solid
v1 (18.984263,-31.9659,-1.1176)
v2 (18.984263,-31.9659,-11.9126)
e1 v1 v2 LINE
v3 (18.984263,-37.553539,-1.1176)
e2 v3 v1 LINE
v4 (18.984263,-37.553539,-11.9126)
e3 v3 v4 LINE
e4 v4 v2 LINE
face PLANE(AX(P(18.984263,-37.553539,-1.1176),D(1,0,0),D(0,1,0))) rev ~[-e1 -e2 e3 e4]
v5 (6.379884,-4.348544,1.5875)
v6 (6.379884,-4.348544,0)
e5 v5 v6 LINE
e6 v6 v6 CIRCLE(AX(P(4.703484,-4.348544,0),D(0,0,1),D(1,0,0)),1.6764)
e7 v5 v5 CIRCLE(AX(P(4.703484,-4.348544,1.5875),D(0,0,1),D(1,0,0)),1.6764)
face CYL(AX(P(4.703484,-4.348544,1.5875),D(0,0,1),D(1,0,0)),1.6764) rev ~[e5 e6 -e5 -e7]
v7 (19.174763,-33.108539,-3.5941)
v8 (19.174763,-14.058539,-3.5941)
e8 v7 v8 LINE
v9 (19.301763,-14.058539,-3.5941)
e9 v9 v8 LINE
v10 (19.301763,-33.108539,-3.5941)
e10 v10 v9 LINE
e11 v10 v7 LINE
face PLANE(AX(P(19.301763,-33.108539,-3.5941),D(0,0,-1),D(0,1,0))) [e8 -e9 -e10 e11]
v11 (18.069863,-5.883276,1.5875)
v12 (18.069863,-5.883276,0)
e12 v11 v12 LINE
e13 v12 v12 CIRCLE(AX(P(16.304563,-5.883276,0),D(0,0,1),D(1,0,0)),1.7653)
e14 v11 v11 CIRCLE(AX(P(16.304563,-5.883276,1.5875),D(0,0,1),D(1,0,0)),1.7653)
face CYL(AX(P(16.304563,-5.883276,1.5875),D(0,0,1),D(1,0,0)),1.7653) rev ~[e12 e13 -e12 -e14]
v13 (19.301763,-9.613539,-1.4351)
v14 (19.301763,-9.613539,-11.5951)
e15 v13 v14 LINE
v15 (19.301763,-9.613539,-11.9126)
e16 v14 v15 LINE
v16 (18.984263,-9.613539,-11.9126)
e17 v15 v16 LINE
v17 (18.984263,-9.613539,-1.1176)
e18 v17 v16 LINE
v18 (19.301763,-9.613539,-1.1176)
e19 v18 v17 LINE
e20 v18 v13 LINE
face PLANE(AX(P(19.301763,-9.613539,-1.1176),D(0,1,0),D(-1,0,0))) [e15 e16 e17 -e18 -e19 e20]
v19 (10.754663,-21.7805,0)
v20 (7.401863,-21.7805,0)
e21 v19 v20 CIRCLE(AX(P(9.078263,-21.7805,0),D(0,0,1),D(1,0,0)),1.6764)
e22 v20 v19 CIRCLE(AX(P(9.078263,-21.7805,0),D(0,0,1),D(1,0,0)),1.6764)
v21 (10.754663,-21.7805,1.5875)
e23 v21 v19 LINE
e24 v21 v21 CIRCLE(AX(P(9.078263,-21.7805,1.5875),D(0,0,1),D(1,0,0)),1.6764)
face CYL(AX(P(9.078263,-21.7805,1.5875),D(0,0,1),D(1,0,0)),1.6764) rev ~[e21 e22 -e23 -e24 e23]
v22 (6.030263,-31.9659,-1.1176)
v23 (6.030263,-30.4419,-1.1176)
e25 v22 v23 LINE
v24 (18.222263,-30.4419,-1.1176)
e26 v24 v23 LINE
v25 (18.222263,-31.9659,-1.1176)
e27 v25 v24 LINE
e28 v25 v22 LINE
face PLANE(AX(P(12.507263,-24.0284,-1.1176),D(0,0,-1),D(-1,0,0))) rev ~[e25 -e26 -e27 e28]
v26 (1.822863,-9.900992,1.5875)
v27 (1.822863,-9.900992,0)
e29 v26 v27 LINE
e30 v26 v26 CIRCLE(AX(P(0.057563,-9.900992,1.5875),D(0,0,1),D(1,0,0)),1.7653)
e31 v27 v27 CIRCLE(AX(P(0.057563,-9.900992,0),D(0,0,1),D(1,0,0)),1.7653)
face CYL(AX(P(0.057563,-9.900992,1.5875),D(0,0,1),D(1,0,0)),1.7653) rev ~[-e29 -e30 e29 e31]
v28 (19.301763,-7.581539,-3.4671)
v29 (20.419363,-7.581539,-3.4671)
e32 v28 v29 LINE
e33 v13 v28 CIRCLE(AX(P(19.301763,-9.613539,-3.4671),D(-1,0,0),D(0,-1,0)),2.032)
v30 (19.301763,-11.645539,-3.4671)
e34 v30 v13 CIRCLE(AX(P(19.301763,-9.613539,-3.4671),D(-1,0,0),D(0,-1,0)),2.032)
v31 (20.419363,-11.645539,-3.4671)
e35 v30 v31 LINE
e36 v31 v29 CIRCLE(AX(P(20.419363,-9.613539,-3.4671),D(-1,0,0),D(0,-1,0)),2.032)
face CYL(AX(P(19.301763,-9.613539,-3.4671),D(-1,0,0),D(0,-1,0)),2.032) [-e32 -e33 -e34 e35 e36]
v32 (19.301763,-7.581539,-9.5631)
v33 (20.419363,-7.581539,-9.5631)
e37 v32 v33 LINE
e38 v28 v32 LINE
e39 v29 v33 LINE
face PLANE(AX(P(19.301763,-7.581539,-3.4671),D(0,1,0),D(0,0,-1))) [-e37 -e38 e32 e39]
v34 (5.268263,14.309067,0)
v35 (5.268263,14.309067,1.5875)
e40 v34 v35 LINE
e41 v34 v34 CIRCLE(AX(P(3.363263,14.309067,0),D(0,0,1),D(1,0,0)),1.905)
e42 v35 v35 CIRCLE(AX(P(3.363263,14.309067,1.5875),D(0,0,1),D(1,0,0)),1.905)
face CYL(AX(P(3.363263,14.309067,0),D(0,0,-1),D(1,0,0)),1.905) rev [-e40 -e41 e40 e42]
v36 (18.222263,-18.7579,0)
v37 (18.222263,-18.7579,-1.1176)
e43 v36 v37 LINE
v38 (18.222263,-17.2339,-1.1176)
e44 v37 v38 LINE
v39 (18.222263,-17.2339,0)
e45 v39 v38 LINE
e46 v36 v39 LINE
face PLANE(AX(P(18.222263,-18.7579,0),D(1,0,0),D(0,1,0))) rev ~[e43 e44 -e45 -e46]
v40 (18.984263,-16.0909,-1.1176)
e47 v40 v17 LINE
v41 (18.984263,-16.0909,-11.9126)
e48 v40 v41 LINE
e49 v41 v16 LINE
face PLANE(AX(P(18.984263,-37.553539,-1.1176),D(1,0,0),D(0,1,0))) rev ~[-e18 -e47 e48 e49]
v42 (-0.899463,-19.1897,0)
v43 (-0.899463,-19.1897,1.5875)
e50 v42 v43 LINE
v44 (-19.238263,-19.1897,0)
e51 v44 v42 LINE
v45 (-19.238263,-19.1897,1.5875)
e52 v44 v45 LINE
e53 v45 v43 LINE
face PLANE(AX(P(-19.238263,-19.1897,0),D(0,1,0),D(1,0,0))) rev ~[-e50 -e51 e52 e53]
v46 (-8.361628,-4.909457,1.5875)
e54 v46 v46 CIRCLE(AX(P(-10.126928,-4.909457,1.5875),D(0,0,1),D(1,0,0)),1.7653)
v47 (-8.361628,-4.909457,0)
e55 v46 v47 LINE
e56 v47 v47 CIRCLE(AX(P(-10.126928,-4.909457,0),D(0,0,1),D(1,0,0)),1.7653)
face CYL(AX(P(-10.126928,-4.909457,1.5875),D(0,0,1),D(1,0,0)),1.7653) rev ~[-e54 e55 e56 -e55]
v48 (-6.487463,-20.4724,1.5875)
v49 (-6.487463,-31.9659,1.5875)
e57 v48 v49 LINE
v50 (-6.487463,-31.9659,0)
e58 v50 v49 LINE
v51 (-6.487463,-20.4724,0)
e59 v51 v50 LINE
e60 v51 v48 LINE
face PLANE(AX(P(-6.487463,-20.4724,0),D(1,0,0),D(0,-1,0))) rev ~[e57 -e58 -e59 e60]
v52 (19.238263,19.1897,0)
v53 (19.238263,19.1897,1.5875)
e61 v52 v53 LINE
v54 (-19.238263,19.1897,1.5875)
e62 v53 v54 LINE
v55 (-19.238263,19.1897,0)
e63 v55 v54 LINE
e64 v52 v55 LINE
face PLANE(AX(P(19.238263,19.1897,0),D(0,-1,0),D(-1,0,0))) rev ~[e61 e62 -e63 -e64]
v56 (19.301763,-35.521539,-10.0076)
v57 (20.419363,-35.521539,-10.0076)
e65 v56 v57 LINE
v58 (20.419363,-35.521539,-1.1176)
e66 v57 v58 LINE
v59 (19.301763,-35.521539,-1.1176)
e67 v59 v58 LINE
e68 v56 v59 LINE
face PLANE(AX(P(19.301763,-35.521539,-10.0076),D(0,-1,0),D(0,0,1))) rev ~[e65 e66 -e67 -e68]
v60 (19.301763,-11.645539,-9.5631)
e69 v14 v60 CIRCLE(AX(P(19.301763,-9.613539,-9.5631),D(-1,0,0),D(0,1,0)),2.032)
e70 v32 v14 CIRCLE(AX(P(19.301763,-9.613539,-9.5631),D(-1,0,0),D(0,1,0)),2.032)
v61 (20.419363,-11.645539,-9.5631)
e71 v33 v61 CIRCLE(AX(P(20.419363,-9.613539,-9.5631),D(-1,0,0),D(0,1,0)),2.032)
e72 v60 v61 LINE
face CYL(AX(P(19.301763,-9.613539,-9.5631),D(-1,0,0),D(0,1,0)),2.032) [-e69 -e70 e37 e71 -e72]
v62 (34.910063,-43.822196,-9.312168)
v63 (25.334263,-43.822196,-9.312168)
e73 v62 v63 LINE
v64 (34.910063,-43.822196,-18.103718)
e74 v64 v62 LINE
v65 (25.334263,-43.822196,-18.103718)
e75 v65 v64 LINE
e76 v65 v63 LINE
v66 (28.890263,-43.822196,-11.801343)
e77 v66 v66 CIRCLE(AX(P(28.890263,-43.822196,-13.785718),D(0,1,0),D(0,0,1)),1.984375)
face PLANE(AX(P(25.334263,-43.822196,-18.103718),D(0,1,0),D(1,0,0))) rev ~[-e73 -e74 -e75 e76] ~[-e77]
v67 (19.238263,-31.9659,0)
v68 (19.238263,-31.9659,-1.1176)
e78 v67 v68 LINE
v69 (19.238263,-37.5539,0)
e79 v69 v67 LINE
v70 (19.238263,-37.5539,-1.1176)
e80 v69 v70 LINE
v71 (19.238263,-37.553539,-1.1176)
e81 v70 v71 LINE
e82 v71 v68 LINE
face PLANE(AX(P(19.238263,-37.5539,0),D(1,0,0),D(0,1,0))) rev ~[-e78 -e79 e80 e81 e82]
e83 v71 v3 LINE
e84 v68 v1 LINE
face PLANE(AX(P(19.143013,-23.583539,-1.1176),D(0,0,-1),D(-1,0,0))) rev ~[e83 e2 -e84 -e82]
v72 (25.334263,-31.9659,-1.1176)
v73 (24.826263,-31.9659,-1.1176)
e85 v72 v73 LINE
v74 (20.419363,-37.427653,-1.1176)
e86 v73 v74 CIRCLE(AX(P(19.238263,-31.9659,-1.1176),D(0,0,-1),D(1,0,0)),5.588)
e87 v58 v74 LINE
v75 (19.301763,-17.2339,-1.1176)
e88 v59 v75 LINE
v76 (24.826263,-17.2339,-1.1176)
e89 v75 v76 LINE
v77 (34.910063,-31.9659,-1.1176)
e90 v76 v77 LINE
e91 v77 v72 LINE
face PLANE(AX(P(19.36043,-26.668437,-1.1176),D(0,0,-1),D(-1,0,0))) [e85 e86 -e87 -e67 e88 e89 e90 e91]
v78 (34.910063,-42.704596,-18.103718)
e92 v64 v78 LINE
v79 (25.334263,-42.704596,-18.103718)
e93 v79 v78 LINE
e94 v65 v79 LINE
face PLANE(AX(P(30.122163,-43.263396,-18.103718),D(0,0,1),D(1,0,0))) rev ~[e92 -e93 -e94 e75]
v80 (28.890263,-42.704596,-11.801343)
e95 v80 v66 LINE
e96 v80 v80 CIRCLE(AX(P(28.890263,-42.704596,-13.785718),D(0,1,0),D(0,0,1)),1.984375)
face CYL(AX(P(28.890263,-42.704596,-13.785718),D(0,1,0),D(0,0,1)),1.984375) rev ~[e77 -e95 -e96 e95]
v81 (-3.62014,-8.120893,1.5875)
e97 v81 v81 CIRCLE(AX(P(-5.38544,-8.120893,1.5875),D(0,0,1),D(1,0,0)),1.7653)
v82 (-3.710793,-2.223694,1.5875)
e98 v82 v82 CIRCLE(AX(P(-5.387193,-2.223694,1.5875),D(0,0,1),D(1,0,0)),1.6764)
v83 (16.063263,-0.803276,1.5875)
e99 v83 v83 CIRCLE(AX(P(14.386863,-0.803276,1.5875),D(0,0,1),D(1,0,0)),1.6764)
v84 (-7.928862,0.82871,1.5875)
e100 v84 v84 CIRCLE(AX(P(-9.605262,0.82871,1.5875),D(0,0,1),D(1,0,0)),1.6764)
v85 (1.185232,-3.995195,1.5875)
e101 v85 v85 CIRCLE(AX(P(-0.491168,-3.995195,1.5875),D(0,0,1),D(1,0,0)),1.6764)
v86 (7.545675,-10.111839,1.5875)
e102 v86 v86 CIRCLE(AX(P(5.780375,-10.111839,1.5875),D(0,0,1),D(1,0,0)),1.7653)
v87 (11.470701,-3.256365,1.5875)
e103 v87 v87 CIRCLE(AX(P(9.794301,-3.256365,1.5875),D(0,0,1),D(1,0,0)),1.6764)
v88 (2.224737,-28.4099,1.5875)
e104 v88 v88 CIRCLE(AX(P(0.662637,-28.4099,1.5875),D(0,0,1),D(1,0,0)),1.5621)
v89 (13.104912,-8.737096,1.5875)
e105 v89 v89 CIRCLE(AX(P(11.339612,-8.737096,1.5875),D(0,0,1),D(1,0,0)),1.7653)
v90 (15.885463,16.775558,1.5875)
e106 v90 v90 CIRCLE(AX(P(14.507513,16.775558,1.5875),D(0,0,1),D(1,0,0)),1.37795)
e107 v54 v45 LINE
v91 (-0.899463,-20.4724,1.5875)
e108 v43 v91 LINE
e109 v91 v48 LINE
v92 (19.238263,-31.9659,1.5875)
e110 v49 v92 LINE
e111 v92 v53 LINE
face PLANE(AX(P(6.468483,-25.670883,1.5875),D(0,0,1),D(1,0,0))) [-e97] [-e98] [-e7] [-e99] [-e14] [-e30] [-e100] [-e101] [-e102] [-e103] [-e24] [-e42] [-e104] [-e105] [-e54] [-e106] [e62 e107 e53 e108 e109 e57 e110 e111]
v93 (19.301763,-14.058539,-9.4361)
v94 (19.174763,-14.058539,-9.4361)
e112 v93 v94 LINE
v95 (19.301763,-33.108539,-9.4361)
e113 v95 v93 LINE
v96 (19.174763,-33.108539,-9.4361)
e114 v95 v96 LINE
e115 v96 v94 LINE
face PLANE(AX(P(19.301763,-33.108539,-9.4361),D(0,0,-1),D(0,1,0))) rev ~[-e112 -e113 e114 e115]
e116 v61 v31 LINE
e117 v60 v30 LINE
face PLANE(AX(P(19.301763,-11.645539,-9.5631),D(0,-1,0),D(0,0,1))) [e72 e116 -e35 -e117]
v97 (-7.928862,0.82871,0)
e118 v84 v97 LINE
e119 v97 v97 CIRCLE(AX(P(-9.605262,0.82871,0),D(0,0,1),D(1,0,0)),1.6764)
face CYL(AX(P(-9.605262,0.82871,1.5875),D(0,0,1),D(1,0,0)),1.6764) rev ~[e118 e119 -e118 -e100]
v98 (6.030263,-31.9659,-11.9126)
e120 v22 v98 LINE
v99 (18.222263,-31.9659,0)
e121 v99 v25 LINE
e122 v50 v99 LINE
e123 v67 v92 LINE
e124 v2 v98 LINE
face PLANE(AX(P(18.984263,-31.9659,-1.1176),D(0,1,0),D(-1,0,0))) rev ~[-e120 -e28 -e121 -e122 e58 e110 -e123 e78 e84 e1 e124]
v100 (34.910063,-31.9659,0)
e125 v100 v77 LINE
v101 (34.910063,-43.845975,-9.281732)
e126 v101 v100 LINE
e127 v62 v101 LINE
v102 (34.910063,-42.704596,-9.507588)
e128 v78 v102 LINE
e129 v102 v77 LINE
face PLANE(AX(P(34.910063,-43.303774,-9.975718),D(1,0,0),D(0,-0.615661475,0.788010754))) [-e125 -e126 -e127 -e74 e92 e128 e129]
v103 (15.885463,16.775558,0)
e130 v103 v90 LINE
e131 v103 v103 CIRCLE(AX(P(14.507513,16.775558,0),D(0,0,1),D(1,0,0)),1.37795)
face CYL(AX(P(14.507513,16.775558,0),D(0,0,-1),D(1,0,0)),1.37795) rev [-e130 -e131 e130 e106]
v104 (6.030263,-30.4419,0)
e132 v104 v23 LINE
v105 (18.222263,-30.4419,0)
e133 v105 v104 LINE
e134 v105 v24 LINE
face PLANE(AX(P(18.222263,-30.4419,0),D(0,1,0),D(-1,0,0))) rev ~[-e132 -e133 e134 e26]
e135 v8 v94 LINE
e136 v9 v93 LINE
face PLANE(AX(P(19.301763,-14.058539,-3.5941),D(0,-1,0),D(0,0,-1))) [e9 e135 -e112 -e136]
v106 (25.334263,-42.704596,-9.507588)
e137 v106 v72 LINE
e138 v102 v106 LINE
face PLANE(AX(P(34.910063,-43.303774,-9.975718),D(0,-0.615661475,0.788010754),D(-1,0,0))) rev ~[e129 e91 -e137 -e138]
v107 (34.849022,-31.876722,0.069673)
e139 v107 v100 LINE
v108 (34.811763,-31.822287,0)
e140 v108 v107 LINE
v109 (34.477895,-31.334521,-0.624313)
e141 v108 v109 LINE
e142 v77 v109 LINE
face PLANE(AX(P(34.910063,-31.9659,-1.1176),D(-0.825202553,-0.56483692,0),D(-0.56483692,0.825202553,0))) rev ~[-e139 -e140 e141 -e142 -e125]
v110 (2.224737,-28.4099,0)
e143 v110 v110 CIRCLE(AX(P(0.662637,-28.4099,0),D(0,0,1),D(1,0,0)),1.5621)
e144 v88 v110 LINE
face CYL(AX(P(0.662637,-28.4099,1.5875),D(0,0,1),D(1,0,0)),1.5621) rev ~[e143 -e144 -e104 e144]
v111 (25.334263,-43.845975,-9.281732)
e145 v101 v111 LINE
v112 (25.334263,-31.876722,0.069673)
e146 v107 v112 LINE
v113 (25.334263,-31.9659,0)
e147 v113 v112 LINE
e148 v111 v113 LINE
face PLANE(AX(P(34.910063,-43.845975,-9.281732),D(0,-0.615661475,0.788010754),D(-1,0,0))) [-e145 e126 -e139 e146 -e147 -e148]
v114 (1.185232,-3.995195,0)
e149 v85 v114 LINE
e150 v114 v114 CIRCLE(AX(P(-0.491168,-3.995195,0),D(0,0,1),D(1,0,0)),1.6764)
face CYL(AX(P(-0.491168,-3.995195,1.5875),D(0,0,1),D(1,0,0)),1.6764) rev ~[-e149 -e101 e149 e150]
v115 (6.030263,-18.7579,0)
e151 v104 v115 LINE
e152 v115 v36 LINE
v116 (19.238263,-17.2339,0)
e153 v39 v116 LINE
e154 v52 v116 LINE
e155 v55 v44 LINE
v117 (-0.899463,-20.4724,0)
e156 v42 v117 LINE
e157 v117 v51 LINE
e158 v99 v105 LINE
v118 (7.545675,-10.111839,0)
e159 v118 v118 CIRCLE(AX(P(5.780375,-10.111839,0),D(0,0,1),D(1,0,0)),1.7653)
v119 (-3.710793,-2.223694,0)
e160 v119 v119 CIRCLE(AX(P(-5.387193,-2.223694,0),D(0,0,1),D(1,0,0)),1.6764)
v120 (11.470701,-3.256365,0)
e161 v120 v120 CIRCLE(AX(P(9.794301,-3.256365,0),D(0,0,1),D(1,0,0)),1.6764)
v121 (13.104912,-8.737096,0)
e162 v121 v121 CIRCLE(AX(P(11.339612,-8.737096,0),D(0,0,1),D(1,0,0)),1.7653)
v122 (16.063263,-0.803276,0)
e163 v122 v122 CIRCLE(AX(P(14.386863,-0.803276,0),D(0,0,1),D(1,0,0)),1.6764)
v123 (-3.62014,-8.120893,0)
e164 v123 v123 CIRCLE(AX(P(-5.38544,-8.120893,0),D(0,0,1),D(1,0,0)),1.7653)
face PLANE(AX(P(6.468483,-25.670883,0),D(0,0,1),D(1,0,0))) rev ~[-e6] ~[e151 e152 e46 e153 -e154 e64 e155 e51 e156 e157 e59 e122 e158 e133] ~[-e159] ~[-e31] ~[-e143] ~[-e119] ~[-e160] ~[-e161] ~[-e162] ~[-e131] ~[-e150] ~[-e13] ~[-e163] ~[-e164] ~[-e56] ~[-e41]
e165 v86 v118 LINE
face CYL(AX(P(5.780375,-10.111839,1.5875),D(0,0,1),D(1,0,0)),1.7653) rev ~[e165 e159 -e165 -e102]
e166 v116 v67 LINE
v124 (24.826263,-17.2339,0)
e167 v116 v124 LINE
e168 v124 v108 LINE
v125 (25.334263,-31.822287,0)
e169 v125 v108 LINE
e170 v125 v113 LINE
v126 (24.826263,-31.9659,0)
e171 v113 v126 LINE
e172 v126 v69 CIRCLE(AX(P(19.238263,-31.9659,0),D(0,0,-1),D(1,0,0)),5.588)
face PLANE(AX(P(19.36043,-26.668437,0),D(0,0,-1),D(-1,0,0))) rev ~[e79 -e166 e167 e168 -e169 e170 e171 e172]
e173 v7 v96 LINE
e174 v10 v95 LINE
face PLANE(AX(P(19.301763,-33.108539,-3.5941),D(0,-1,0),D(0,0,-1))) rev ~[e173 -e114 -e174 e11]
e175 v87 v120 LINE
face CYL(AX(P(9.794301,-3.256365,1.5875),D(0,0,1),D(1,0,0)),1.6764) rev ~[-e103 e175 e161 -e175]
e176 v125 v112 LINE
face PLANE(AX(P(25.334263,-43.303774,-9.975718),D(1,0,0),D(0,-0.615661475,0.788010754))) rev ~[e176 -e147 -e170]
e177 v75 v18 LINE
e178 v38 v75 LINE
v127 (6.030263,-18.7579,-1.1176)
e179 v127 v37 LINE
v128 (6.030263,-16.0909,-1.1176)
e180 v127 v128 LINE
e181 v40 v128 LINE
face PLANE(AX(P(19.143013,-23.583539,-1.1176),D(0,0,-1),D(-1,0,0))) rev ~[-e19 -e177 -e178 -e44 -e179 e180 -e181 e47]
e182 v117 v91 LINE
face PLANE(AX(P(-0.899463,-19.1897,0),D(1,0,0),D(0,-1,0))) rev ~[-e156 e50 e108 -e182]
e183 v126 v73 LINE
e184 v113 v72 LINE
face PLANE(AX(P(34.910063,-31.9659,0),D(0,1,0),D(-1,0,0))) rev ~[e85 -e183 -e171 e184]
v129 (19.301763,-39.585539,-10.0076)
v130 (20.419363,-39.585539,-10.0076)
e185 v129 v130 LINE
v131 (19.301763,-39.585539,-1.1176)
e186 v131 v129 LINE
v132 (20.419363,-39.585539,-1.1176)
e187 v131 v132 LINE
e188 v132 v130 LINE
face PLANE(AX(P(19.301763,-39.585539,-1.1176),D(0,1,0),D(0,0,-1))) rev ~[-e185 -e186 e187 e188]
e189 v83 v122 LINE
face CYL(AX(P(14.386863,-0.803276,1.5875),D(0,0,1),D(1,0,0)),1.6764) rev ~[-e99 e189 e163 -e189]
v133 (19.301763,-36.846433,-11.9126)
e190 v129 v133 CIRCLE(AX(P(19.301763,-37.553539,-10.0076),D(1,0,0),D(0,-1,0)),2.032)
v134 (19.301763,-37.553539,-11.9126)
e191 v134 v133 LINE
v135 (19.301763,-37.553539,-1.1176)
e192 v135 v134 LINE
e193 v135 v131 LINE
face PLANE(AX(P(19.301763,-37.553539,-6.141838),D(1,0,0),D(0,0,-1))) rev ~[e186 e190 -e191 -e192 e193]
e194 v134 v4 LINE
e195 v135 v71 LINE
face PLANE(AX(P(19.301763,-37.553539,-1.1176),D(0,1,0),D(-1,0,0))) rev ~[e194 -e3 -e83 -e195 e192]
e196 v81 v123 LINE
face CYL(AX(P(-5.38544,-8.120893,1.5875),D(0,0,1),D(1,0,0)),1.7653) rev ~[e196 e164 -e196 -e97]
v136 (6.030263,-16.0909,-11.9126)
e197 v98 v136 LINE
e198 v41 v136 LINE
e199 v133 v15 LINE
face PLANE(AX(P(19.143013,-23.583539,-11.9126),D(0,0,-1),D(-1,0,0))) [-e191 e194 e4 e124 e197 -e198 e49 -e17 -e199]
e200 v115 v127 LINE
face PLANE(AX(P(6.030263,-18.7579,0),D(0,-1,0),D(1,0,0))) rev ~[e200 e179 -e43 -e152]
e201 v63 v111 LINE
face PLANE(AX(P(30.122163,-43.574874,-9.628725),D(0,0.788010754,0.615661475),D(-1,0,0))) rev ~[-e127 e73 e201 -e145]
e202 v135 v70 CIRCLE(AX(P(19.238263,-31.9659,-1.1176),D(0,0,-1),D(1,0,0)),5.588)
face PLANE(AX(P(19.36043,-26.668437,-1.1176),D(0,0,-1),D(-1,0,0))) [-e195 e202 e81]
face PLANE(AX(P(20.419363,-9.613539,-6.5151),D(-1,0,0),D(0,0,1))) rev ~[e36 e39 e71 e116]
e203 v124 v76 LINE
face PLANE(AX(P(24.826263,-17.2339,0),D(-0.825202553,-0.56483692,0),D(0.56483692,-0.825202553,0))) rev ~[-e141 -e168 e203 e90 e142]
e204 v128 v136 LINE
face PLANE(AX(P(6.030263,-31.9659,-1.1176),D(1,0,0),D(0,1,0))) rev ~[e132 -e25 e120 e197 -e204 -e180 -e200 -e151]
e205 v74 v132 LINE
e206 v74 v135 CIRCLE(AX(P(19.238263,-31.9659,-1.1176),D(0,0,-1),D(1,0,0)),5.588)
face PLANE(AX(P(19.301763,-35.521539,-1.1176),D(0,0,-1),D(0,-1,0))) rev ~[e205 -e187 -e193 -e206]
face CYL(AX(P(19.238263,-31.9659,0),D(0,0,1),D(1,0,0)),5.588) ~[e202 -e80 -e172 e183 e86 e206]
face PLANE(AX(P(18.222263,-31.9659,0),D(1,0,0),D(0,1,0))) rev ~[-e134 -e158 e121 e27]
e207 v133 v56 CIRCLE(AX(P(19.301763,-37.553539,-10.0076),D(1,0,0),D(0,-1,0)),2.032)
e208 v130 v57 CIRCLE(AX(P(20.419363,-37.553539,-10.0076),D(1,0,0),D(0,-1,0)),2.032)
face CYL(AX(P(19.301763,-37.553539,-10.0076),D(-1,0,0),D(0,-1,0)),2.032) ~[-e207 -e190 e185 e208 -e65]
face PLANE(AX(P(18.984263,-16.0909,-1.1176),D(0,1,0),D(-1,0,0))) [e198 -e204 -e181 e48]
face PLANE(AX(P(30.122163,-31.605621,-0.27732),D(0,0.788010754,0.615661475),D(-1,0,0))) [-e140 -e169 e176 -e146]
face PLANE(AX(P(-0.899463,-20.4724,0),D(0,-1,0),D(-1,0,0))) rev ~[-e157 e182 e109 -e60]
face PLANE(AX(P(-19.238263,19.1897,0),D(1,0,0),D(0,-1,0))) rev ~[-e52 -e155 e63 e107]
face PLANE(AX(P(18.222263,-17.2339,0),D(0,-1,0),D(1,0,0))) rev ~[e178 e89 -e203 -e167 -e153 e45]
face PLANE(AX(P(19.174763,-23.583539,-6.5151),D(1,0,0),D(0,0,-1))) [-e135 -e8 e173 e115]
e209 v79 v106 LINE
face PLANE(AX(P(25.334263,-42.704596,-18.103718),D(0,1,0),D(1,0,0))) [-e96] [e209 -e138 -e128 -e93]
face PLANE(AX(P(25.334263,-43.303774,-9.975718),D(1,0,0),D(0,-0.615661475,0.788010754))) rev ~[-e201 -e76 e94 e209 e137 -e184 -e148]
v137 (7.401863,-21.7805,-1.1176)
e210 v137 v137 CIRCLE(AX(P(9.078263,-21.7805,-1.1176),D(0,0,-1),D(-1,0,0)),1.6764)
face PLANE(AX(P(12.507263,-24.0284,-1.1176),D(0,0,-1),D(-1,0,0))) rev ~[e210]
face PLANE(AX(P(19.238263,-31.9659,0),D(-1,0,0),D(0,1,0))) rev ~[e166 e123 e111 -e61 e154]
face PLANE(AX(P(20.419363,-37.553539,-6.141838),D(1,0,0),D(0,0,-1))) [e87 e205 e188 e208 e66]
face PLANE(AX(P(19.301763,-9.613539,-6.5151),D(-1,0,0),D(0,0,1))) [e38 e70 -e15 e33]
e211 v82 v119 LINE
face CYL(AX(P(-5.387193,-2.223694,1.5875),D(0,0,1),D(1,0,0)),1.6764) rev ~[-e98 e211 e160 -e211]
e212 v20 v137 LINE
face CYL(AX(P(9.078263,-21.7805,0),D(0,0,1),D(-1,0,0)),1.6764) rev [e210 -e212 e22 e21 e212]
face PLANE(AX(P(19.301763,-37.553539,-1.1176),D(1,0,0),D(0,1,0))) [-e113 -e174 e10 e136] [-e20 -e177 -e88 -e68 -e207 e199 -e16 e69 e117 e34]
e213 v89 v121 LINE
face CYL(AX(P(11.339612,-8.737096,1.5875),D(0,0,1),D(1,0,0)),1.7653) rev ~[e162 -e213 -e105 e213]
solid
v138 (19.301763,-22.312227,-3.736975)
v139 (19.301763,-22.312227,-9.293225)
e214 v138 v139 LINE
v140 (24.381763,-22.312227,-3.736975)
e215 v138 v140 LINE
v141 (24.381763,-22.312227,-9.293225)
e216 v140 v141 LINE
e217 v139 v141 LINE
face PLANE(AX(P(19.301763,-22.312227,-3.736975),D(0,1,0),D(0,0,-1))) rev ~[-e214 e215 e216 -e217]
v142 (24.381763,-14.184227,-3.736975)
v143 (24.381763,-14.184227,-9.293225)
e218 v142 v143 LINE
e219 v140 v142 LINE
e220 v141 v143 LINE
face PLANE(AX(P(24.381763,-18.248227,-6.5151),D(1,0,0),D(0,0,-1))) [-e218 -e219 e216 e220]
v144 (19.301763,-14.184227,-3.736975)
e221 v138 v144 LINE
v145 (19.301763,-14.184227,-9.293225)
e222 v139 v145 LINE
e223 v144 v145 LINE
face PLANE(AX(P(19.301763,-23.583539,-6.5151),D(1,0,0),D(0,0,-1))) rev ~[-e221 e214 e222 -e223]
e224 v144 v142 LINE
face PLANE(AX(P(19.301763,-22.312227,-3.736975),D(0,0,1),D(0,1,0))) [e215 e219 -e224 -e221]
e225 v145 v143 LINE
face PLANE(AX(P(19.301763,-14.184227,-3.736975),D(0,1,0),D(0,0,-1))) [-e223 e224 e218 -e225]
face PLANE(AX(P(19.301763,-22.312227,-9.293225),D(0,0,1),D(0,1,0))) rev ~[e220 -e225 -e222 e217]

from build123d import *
from build123d.topology import SkipClean

# Parameters (mm, degrees)
SKETCH1_R                = 1.905
SKETCH1_R_2              = 1.37795
BOSS_EXTRUDE1_DEPTH      = 1.5875
CUT_EXTRUDE1_REACH       = 39.342
SKETCH2_R                = 1.7653
SKETCH2_R_2              = 1.6764
SKETCH2_R_3              = 1.5621
SKETCH3_R                = 1.6764
BOSS_EXTRUDE2_DEPTH      = 1.1176
BOSS_EXTRUDE3_DEPTH      = 0.4572
BOSS_EXTRUDE3_DEPTH_BACK = 14.732
SKETCH4_W                = 9.5758
SKETCH4_H                = 0.880680818
CUT_EXTRUDE4_DEPTH       = 57.741944576
BOSS_EXTRUDE5_DEPTH      = 0.7112
BOSS_EXTRUDE5_DEPTH_BACK = 8.128
SKETCH8_W                = 9.5758
SKETCH8_H                = 1.1176
SKETCH9_W                = 12.954
SKETCH9_H                = 15.875
BOSS_EXTRUDE10_DEPTH     = 10.795
SKETCH10_W               = 0.3175
SKETCH10_H               = 27.94
BOSS_EXTRUDE12_DEPTH     = 10.795
SKETCH11_W               = 5.55625
SKETCH11_H               = 8.128
BOSS_EXTRUDE13_DEPTH     = 5.08
SKETCH12_W               = 5.842
SKETCH12_H               = 19.05
CUT_EXTRUDE5_DEPTH       = 0.127
BOSS_EXTRUDE14_DEPTH     = 1.1176
SKETCH14_R               = 1.984375
CUT_EXTRUDE6_DEPTH       = 74.330491034


with BuildPart() as part:
    # Sketch1 → Boss-Extrude1 (new body)
    with BuildSketch(Plane.XY):
        Polygon((-19.238262945, 19.1897), (-19.238262945, -19.1897), (-0.899462945, -19.1897), (-0.899462945, -20.4724), (-6.487462945, -20.4724), (-6.487462945, -31.9659), (19.238262945, -31.9659), (19.238262945, 19.1897), align=None)
        with Locations((3.363262945, 14.309067498)):
            Circle(SKETCH1_R, mode=Mode.SUBTRACT)
        with Locations((14.507512945, 16.775557869)):
            Circle(SKETCH1_R_2, mode=Mode.SUBTRACT)
    extrude(amount=BOSS_EXTRUDE1_DEPTH)

    # Sketch2 → Cut-Extrude1 (cut, up to next)
    with BuildSketch(Plane.XY.offset(1.5875), mode=Mode.PRIVATE) as cut_extrude1_sk1:
        with Locations((16.304562945, -5.88327552)):
            Circle(SKETCH2_R)
    cut_extrude1_tool1 = extrude(cut_extrude1_sk1.sketch, amount=-CUT_EXTRUDE1_REACH, mode=Mode.PRIVATE) & part.part
    # Sketch2 → Cut-Extrude1 (cut, up to next)
    with BuildSketch(Plane.XY.offset(1.5875), mode=Mode.PRIVATE) as cut_extrude1_sk2:
        with Locations((14.386862945, -0.80327552)):
            Circle(SKETCH2_R_2)
    cut_extrude1_tool2 = extrude(cut_extrude1_sk2.sketch, amount=-CUT_EXTRUDE1_REACH, mode=Mode.PRIVATE) & part.part
    # Sketch2 → Cut-Extrude1 (cut, up to next)
    with BuildSketch(Plane.XY.offset(1.5875), mode=Mode.PRIVATE) as cut_extrude1_sk3:
        with Locations((9.794301106, -3.256364936)):
            Circle(SKETCH2_R_2)
    cut_extrude1_tool3 = extrude(cut_extrude1_sk3.sketch, amount=-CUT_EXTRUDE1_REACH, mode=Mode.PRIVATE) & part.part
    # Sketch2 → Cut-Extrude1 (cut, up to next)
    with BuildSketch(Plane.XY.offset(1.5875), mode=Mode.PRIVATE) as cut_extrude1_sk4:
        with Locations((4.703484245, -4.348544228)):
            Circle(SKETCH2_R_2)
    cut_extrude1_tool4 = extrude(cut_extrude1_sk4.sketch, amount=-CUT_EXTRUDE1_REACH, mode=Mode.PRIVATE) & part.part
    # Sketch2 → Cut-Extrude1 (cut, up to next)
    with BuildSketch(Plane.XY.offset(1.5875), mode=Mode.PRIVATE) as cut_extrude1_sk5:
        with Locations((-0.491168417, -3.995195047)):
            Circle(SKETCH2_R_2)
    cut_extrude1_tool5 = extrude(cut_extrude1_sk5.sketch, amount=-CUT_EXTRUDE1_REACH, mode=Mode.PRIVATE) & part.part
    # Sketch2 → Cut-Extrude1 (cut, up to next)
    with BuildSketch(Plane.XY.offset(1.5875), mode=Mode.PRIVATE) as cut_extrude1_sk6:
        with Locations((-5.387192811, -2.22369369)):
            Circle(SKETCH2_R_2)
    cut_extrude1_tool6 = extrude(cut_extrude1_sk6.sketch, amount=-CUT_EXTRUDE1_REACH, mode=Mode.PRIVATE) & part.part
    # Sketch2 → Cut-Extrude1 (cut, up to next)
    with BuildSketch(Plane.XY.offset(1.5875), mode=Mode.PRIVATE) as cut_extrude1_sk7:
        with Locations((-9.605261574, 0.828709926)):
            Circle(SKETCH2_R_2)
    cut_extrude1_tool7 = extrude(cut_extrude1_sk7.sketch, amount=-CUT_EXTRUDE1_REACH, mode=Mode.PRIVATE) & part.part
    # Sketch2 → Cut-Extrude1 (cut, up to next)
    with BuildSketch(Plane.XY.offset(1.5875), mode=Mode.PRIVATE) as cut_extrude1_sk8:
        with Locations((11.339611715, -8.737096142)):
            Circle(SKETCH2_R)
    cut_extrude1_tool8 = extrude(cut_extrude1_sk8.sketch, amount=-CUT_EXTRUDE1_REACH, mode=Mode.PRIVATE) & part.part
    # Sketch2 → Cut-Extrude1 (cut, up to next)
    with BuildSketch(Plane.XY.offset(1.5875), mode=Mode.PRIVATE) as cut_extrude1_sk9:
        with Locations((5.780374706, -10.111838565)):
            Circle(SKETCH2_R)
    cut_extrude1_tool9 = extrude(cut_extrude1_sk9.sketch, amount=-CUT_EXTRUDE1_REACH, mode=Mode.PRIVATE) & part.part
    # Sketch2 → Cut-Extrude1 (cut, up to next)
    with BuildSketch(Plane.XY.offset(1.5875), mode=Mode.PRIVATE) as cut_extrude1_sk10:
        with Locations((0.057562744, -9.900992408)):
            Circle(SKETCH2_R)
    cut_extrude1_tool10 = extrude(cut_extrude1_sk10.sketch, amount=-CUT_EXTRUDE1_REACH, mode=Mode.PRIVATE) & part.part
    # Sketch2 → Cut-Extrude1 (cut, up to next)
    with BuildSketch(Plane.XY.offset(1.5875), mode=Mode.PRIVATE) as cut_extrude1_sk11:
        with Locations((-5.385440111, -8.120893316)):
            Circle(SKETCH2_R)
    cut_extrude1_tool11 = extrude(cut_extrude1_sk11.sketch, amount=-CUT_EXTRUDE1_REACH, mode=Mode.PRIVATE) & part.part
    # Sketch2 → Cut-Extrude1 (cut, up to next)
    with BuildSketch(Plane.XY.offset(1.5875), mode=Mode.PRIVATE) as cut_extrude1_sk12:
        with Locations((-10.12692846, -4.90945733)):
            Circle(SKETCH2_R)
    cut_extrude1_tool12 = extrude(cut_extrude1_sk12.sketch, amount=-CUT_EXTRUDE1_REACH, mode=Mode.PRIVATE) & part.part
    # Sketch2 → Cut-Extrude1 (cut, up to next)
    with BuildSketch(Plane.XY.offset(1.5875), mode=Mode.PRIVATE) as cut_extrude1_sk13:
        with Locations((9.078262945, -21.7805)):
            Circle(SKETCH2_R_2)
    cut_extrude1_tool13 = extrude(cut_extrude1_sk13.sketch, amount=-CUT_EXTRUDE1_REACH, mode=Mode.PRIVATE) & part.part
    # Sketch2 → Cut-Extrude1 (cut, up to next)
    with BuildSketch(Plane.XY.offset(1.5875), mode=Mode.PRIVATE) as cut_extrude1_sk14:
        with Locations((0.662637055, -28.4099)):
            Circle(SKETCH2_R_3)
    cut_extrude1_tool14 = extrude(cut_extrude1_sk14.sketch, amount=-CUT_EXTRUDE1_REACH, mode=Mode.PRIVATE) & part.part
    add(cut_extrude1_tool1.solids().sort_by_distance((16.304563, -5.883276, 1.5875))[0], mode=Mode.SUBTRACT)
    add(cut_extrude1_tool2.solids().sort_by_distance((14.386863, -0.803276, 1.5875))[0], mode=Mode.SUBTRACT)
    add(cut_extrude1_tool3.solids().sort_by_distance((9.794301, -3.256365, 1.5875))[0], mode=Mode.SUBTRACT)
    add(cut_extrude1_tool4.solids().sort_by_distance((4.703484, -4.348544, 1.5875))[0], mode=Mode.SUBTRACT)
    add(cut_extrude1_tool5.solids().sort_by_distance((-0.491168, -3.995195, 1.5875))[0], mode=Mode.SUBTRACT)
    add(cut_extrude1_tool6.solids().sort_by_distance((-5.387193, -2.223694, 1.5875))[0], mode=Mode.SUBTRACT)
    add(cut_extrude1_tool7.solids().sort_by_distance((-9.605262, 0.82871, 1.5875))[0], mode=Mode.SUBTRACT)
    add(cut_extrude1_tool8.solids().sort_by_distance((11.339612, -8.737096, 1.5875))[0], mode=Mode.SUBTRACT)
    add(cut_extrude1_tool9.solids().sort_by_distance((5.780375, -10.111839, 1.5875))[0], mode=Mode.SUBTRACT)
    add(cut_extrude1_tool10.solids().sort_by_distance((0.057563, -9.900992, 1.5875))[0], mode=Mode.SUBTRACT)
    add(cut_extrude1_tool11.solids().sort_by_distance((-5.38544, -8.120893, 1.5875))[0], mode=Mode.SUBTRACT)
    add(cut_extrude1_tool12.solids().sort_by_distance((-10.126928, -4.909457, 1.5875))[0], mode=Mode.SUBTRACT)
    add(cut_extrude1_tool13.solids().sort_by_distance((9.078263, -21.7805, 1.5875))[0], mode=Mode.SUBTRACT)
    add(cut_extrude1_tool14.solids().sort_by_distance((0.662637, -28.4099, 1.5875))[0], mode=Mode.SUBTRACT)

    # Sketch3 → Boss-Extrude2 (add)
    with SkipClean():  # the faces are left unmerged after this step: merging them gives an invalid solid
        with BuildSketch(Plane(origin=(0, 0, 0), x_dir=(-1, 0, 0), z_dir=(0, 0, -1))):
            with BuildLine():
                Line((-24.826262945, -17.2339), (-34.910062945, -31.9659))
                Line((-34.910062945, -31.9659), (-24.826262945, -31.9659))
                ThreePointArc((-24.826262945, -31.9659), (-23.189575638, -35.917212693), (-19.238262945, -37.5539))
                Line((-19.238262945, -37.5539), (-19.238262945, -31.9659))
                Line((-19.238262945, -31.9659), (-18.222262945, -31.9659))
                Line((-18.222262945, -31.9659), (-18.222262945, -30.4419))
                Line((-18.222262945, -30.4419), (-6.030262945, -30.4419))
                Line((-6.030262945, -30.4419), (-6.030262945, -18.7579))
                Line((-6.030262945, -18.7579), (-18.222262945, -18.7579))
                Line((-18.222262945, -18.7579), (-18.222262945, -17.2339))
                Line((-18.222262945, -17.2339), (-24.826262945, -17.2339))
            make_face()
            with Locations((-9.078262945, -21.7805)):
                Circle(SKETCH3_R, mode=Mode.SUBTRACT)
        extrude(amount=BOSS_EXTRUDE2_DEPTH)

    # Sketch4 → Boss-Extrude3 (add, two sides: drawn at the far end of the back side and taken through both)
    with SkipClean():  # the faces are left unmerged after this step: merging them gives an invalid solid
        with BuildSketch(Plane(origin=(0, -20.120676187, -15.719995101), x_dir=(-1, 0, 0), z_dir=(0, 0.7880107536067232, 0.6156614753256567)).offset(-BOSS_EXTRUDE3_DEPTH_BACK)):
            with Locations((-30.122162945, 19.239832745)):
                Rectangle(SKETCH4_W, SKETCH4_H)
        extrude(amount=BOSS_EXTRUDE3_DEPTH + BOSS_EXTRUDE3_DEPTH_BACK)

    # Sketch7 → Cut-Extrude4 (cut, through all)
    with SkipClean():  # the faces are left unmerged after this step: merging them gives an invalid solid
        with BuildSketch(Plane(origin=(0, 0, -1.1176), x_dir=(-1, 0, 0), z_dir=(0, 0, -1))):
            Polygon((-34.477894808, -31.334520858), (-34.910062945, -31.334520858), (-34.910062945, -31.9659), align=None)
        extrude(amount=-CUT_EXTRUDE4_DEPTH, mode=Mode.SUBTRACT)

    # Sketch8 → Boss-Extrude5 (add, two sides: drawn at the far end of the back side and taken through both)
    with SkipClean():  # the faces are left unmerged after this step: merging them gives an invalid solid
        with BuildSketch(Plane.XY.offset(-9.975717832).offset(-BOSS_EXTRUDE5_DEPTH_BACK)):
            with Locations((30.122162945, -43.263395546)):
                Rectangle(SKETCH8_W, SKETCH8_H)
        extrude(amount=BOSS_EXTRUDE5_DEPTH + BOSS_EXTRUDE5_DEPTH_BACK)

    # Sketch9 → Boss-Extrude10 (add)
    with SkipClean():  # the faces are left unmerged after this step: merging them gives an invalid solid
        with BuildSketch(Plane(origin=(0, 0, -1.1176), x_dir=(-1, 0, 0), z_dir=(0, 0, -1))):
            with Locations((-12.507262945, -24.0284)):
                Rectangle(SKETCH9_W, SKETCH9_H)
        extrude(amount=BOSS_EXTRUDE10_DEPTH)

    # Sketch10 → Boss-Extrude12 (add)
    with SkipClean():  # the faces are left unmerged after this step: merging them gives an invalid solid
        with BuildSketch(Plane(origin=(0, 0, -1.1176), x_dir=(-1, 0, 0), z_dir=(0, 0, -1))):
            with Locations((-19.143012945, -23.583539193)):
                Rectangle(SKETCH10_W, SKETCH10_H)
        extrude(amount=BOSS_EXTRUDE12_DEPTH)

    # Sketch11 → Boss-Extrude13 (add)
    with SkipClean():  # the faces are left unmerged after this step: merging them gives an invalid solid
        with BuildSketch(Plane(origin=(19.301762945, 0, 0), x_dir=(0, 0, -1), z_dir=(1, 0, 0))):
            with Locations((6.5151, -18.248227099)):
                Rectangle(SKETCH11_W, SKETCH11_H)
        extrude(amount=BOSS_EXTRUDE13_DEPTH)

    # Sketch12 → Cut-Extrude5 (cut)
    with SkipClean():  # the faces are left unmerged after this step: merging them gives an invalid solid
        with BuildSketch(Plane(origin=(19.301762945, 0, 0), x_dir=(0, 0, -1), z_dir=(1, 0, 0))):
            with Locations((6.5151, -23.583539193)):
                Rectangle(SKETCH12_W, SKETCH12_H)
        extrude(amount=-CUT_EXTRUDE5_DEPTH, mode=Mode.SUBTRACT)


with BuildPart() as cut_extrude5_piece_1:
    # of the separate pieces the step leaves, piece 1, a body of its own (cut_extrude5_pieces)
    add(part.part.solids().sort_by_distance((19.238262945, 19.1897, 0))[0])

    # Sketch13 → Boss-Extrude14 (add)
    with SkipClean():  # the faces are left unmerged after this step: merging them gives an invalid solid
        with BuildSketch(Plane(origin=(19.301762945, 0, 0), x_dir=(0, 0, -1), z_dir=(1, 0, 0))):
            with BuildLine():
                Line((10.0076, -35.521539193), (1.1176, -35.521539193))
                Line((1.1176, -35.521539193), (1.1176, -39.585539193))
                Line((1.1176, -39.585539193), (10.0076, -39.585539193))
                ThreePointArc((10.0076, -39.585539193), (12.0396, -37.553539193), (10.0076, -35.521539193))
            make_face()
            with BuildLine():
                Line((3.4671, -7.581539193), (9.5631, -7.581539193))
                ThreePointArc((9.5631, -7.581539193), (11.5951, -9.613539193), (9.5631, -11.645539193))
                Line((9.5631, -11.645539193), (3.4671, -11.645539193))
                ThreePointArc((3.4671, -11.645539193), (1.4351, -9.613539193), (3.4671, -7.581539193))
            make_face()
        extrude(amount=BOSS_EXTRUDE14_DEPTH)

    # Sketch14 → Cut-Extrude6 (cut, through all)
    with SkipClean():  # the faces are left unmerged after this step: merging them gives an invalid solid
        with BuildSketch(Plane(origin=(0, -42.704595546, 0), x_dir=(1, 0, 0), z_dir=(0, 1, 0))):
            with Locations((28.890262945, 13.785717832)):
                Circle(SKETCH14_R)
        extrude(amount=-CUT_EXTRUDE6_DEPTH, mode=Mode.SUBTRACT)


with BuildPart() as cut_extrude5_piece_2:
    # of the separate pieces the step leaves, piece 2, a body of its own (cut_extrude5_pieces)
    add(part.part.solids().sort_by_distance((19.301762945, -14.184227099, -3.736975))[0])


solid = Compound([cut_extrude5_piece_1.part, cut_extrude5_piece_2.part])
